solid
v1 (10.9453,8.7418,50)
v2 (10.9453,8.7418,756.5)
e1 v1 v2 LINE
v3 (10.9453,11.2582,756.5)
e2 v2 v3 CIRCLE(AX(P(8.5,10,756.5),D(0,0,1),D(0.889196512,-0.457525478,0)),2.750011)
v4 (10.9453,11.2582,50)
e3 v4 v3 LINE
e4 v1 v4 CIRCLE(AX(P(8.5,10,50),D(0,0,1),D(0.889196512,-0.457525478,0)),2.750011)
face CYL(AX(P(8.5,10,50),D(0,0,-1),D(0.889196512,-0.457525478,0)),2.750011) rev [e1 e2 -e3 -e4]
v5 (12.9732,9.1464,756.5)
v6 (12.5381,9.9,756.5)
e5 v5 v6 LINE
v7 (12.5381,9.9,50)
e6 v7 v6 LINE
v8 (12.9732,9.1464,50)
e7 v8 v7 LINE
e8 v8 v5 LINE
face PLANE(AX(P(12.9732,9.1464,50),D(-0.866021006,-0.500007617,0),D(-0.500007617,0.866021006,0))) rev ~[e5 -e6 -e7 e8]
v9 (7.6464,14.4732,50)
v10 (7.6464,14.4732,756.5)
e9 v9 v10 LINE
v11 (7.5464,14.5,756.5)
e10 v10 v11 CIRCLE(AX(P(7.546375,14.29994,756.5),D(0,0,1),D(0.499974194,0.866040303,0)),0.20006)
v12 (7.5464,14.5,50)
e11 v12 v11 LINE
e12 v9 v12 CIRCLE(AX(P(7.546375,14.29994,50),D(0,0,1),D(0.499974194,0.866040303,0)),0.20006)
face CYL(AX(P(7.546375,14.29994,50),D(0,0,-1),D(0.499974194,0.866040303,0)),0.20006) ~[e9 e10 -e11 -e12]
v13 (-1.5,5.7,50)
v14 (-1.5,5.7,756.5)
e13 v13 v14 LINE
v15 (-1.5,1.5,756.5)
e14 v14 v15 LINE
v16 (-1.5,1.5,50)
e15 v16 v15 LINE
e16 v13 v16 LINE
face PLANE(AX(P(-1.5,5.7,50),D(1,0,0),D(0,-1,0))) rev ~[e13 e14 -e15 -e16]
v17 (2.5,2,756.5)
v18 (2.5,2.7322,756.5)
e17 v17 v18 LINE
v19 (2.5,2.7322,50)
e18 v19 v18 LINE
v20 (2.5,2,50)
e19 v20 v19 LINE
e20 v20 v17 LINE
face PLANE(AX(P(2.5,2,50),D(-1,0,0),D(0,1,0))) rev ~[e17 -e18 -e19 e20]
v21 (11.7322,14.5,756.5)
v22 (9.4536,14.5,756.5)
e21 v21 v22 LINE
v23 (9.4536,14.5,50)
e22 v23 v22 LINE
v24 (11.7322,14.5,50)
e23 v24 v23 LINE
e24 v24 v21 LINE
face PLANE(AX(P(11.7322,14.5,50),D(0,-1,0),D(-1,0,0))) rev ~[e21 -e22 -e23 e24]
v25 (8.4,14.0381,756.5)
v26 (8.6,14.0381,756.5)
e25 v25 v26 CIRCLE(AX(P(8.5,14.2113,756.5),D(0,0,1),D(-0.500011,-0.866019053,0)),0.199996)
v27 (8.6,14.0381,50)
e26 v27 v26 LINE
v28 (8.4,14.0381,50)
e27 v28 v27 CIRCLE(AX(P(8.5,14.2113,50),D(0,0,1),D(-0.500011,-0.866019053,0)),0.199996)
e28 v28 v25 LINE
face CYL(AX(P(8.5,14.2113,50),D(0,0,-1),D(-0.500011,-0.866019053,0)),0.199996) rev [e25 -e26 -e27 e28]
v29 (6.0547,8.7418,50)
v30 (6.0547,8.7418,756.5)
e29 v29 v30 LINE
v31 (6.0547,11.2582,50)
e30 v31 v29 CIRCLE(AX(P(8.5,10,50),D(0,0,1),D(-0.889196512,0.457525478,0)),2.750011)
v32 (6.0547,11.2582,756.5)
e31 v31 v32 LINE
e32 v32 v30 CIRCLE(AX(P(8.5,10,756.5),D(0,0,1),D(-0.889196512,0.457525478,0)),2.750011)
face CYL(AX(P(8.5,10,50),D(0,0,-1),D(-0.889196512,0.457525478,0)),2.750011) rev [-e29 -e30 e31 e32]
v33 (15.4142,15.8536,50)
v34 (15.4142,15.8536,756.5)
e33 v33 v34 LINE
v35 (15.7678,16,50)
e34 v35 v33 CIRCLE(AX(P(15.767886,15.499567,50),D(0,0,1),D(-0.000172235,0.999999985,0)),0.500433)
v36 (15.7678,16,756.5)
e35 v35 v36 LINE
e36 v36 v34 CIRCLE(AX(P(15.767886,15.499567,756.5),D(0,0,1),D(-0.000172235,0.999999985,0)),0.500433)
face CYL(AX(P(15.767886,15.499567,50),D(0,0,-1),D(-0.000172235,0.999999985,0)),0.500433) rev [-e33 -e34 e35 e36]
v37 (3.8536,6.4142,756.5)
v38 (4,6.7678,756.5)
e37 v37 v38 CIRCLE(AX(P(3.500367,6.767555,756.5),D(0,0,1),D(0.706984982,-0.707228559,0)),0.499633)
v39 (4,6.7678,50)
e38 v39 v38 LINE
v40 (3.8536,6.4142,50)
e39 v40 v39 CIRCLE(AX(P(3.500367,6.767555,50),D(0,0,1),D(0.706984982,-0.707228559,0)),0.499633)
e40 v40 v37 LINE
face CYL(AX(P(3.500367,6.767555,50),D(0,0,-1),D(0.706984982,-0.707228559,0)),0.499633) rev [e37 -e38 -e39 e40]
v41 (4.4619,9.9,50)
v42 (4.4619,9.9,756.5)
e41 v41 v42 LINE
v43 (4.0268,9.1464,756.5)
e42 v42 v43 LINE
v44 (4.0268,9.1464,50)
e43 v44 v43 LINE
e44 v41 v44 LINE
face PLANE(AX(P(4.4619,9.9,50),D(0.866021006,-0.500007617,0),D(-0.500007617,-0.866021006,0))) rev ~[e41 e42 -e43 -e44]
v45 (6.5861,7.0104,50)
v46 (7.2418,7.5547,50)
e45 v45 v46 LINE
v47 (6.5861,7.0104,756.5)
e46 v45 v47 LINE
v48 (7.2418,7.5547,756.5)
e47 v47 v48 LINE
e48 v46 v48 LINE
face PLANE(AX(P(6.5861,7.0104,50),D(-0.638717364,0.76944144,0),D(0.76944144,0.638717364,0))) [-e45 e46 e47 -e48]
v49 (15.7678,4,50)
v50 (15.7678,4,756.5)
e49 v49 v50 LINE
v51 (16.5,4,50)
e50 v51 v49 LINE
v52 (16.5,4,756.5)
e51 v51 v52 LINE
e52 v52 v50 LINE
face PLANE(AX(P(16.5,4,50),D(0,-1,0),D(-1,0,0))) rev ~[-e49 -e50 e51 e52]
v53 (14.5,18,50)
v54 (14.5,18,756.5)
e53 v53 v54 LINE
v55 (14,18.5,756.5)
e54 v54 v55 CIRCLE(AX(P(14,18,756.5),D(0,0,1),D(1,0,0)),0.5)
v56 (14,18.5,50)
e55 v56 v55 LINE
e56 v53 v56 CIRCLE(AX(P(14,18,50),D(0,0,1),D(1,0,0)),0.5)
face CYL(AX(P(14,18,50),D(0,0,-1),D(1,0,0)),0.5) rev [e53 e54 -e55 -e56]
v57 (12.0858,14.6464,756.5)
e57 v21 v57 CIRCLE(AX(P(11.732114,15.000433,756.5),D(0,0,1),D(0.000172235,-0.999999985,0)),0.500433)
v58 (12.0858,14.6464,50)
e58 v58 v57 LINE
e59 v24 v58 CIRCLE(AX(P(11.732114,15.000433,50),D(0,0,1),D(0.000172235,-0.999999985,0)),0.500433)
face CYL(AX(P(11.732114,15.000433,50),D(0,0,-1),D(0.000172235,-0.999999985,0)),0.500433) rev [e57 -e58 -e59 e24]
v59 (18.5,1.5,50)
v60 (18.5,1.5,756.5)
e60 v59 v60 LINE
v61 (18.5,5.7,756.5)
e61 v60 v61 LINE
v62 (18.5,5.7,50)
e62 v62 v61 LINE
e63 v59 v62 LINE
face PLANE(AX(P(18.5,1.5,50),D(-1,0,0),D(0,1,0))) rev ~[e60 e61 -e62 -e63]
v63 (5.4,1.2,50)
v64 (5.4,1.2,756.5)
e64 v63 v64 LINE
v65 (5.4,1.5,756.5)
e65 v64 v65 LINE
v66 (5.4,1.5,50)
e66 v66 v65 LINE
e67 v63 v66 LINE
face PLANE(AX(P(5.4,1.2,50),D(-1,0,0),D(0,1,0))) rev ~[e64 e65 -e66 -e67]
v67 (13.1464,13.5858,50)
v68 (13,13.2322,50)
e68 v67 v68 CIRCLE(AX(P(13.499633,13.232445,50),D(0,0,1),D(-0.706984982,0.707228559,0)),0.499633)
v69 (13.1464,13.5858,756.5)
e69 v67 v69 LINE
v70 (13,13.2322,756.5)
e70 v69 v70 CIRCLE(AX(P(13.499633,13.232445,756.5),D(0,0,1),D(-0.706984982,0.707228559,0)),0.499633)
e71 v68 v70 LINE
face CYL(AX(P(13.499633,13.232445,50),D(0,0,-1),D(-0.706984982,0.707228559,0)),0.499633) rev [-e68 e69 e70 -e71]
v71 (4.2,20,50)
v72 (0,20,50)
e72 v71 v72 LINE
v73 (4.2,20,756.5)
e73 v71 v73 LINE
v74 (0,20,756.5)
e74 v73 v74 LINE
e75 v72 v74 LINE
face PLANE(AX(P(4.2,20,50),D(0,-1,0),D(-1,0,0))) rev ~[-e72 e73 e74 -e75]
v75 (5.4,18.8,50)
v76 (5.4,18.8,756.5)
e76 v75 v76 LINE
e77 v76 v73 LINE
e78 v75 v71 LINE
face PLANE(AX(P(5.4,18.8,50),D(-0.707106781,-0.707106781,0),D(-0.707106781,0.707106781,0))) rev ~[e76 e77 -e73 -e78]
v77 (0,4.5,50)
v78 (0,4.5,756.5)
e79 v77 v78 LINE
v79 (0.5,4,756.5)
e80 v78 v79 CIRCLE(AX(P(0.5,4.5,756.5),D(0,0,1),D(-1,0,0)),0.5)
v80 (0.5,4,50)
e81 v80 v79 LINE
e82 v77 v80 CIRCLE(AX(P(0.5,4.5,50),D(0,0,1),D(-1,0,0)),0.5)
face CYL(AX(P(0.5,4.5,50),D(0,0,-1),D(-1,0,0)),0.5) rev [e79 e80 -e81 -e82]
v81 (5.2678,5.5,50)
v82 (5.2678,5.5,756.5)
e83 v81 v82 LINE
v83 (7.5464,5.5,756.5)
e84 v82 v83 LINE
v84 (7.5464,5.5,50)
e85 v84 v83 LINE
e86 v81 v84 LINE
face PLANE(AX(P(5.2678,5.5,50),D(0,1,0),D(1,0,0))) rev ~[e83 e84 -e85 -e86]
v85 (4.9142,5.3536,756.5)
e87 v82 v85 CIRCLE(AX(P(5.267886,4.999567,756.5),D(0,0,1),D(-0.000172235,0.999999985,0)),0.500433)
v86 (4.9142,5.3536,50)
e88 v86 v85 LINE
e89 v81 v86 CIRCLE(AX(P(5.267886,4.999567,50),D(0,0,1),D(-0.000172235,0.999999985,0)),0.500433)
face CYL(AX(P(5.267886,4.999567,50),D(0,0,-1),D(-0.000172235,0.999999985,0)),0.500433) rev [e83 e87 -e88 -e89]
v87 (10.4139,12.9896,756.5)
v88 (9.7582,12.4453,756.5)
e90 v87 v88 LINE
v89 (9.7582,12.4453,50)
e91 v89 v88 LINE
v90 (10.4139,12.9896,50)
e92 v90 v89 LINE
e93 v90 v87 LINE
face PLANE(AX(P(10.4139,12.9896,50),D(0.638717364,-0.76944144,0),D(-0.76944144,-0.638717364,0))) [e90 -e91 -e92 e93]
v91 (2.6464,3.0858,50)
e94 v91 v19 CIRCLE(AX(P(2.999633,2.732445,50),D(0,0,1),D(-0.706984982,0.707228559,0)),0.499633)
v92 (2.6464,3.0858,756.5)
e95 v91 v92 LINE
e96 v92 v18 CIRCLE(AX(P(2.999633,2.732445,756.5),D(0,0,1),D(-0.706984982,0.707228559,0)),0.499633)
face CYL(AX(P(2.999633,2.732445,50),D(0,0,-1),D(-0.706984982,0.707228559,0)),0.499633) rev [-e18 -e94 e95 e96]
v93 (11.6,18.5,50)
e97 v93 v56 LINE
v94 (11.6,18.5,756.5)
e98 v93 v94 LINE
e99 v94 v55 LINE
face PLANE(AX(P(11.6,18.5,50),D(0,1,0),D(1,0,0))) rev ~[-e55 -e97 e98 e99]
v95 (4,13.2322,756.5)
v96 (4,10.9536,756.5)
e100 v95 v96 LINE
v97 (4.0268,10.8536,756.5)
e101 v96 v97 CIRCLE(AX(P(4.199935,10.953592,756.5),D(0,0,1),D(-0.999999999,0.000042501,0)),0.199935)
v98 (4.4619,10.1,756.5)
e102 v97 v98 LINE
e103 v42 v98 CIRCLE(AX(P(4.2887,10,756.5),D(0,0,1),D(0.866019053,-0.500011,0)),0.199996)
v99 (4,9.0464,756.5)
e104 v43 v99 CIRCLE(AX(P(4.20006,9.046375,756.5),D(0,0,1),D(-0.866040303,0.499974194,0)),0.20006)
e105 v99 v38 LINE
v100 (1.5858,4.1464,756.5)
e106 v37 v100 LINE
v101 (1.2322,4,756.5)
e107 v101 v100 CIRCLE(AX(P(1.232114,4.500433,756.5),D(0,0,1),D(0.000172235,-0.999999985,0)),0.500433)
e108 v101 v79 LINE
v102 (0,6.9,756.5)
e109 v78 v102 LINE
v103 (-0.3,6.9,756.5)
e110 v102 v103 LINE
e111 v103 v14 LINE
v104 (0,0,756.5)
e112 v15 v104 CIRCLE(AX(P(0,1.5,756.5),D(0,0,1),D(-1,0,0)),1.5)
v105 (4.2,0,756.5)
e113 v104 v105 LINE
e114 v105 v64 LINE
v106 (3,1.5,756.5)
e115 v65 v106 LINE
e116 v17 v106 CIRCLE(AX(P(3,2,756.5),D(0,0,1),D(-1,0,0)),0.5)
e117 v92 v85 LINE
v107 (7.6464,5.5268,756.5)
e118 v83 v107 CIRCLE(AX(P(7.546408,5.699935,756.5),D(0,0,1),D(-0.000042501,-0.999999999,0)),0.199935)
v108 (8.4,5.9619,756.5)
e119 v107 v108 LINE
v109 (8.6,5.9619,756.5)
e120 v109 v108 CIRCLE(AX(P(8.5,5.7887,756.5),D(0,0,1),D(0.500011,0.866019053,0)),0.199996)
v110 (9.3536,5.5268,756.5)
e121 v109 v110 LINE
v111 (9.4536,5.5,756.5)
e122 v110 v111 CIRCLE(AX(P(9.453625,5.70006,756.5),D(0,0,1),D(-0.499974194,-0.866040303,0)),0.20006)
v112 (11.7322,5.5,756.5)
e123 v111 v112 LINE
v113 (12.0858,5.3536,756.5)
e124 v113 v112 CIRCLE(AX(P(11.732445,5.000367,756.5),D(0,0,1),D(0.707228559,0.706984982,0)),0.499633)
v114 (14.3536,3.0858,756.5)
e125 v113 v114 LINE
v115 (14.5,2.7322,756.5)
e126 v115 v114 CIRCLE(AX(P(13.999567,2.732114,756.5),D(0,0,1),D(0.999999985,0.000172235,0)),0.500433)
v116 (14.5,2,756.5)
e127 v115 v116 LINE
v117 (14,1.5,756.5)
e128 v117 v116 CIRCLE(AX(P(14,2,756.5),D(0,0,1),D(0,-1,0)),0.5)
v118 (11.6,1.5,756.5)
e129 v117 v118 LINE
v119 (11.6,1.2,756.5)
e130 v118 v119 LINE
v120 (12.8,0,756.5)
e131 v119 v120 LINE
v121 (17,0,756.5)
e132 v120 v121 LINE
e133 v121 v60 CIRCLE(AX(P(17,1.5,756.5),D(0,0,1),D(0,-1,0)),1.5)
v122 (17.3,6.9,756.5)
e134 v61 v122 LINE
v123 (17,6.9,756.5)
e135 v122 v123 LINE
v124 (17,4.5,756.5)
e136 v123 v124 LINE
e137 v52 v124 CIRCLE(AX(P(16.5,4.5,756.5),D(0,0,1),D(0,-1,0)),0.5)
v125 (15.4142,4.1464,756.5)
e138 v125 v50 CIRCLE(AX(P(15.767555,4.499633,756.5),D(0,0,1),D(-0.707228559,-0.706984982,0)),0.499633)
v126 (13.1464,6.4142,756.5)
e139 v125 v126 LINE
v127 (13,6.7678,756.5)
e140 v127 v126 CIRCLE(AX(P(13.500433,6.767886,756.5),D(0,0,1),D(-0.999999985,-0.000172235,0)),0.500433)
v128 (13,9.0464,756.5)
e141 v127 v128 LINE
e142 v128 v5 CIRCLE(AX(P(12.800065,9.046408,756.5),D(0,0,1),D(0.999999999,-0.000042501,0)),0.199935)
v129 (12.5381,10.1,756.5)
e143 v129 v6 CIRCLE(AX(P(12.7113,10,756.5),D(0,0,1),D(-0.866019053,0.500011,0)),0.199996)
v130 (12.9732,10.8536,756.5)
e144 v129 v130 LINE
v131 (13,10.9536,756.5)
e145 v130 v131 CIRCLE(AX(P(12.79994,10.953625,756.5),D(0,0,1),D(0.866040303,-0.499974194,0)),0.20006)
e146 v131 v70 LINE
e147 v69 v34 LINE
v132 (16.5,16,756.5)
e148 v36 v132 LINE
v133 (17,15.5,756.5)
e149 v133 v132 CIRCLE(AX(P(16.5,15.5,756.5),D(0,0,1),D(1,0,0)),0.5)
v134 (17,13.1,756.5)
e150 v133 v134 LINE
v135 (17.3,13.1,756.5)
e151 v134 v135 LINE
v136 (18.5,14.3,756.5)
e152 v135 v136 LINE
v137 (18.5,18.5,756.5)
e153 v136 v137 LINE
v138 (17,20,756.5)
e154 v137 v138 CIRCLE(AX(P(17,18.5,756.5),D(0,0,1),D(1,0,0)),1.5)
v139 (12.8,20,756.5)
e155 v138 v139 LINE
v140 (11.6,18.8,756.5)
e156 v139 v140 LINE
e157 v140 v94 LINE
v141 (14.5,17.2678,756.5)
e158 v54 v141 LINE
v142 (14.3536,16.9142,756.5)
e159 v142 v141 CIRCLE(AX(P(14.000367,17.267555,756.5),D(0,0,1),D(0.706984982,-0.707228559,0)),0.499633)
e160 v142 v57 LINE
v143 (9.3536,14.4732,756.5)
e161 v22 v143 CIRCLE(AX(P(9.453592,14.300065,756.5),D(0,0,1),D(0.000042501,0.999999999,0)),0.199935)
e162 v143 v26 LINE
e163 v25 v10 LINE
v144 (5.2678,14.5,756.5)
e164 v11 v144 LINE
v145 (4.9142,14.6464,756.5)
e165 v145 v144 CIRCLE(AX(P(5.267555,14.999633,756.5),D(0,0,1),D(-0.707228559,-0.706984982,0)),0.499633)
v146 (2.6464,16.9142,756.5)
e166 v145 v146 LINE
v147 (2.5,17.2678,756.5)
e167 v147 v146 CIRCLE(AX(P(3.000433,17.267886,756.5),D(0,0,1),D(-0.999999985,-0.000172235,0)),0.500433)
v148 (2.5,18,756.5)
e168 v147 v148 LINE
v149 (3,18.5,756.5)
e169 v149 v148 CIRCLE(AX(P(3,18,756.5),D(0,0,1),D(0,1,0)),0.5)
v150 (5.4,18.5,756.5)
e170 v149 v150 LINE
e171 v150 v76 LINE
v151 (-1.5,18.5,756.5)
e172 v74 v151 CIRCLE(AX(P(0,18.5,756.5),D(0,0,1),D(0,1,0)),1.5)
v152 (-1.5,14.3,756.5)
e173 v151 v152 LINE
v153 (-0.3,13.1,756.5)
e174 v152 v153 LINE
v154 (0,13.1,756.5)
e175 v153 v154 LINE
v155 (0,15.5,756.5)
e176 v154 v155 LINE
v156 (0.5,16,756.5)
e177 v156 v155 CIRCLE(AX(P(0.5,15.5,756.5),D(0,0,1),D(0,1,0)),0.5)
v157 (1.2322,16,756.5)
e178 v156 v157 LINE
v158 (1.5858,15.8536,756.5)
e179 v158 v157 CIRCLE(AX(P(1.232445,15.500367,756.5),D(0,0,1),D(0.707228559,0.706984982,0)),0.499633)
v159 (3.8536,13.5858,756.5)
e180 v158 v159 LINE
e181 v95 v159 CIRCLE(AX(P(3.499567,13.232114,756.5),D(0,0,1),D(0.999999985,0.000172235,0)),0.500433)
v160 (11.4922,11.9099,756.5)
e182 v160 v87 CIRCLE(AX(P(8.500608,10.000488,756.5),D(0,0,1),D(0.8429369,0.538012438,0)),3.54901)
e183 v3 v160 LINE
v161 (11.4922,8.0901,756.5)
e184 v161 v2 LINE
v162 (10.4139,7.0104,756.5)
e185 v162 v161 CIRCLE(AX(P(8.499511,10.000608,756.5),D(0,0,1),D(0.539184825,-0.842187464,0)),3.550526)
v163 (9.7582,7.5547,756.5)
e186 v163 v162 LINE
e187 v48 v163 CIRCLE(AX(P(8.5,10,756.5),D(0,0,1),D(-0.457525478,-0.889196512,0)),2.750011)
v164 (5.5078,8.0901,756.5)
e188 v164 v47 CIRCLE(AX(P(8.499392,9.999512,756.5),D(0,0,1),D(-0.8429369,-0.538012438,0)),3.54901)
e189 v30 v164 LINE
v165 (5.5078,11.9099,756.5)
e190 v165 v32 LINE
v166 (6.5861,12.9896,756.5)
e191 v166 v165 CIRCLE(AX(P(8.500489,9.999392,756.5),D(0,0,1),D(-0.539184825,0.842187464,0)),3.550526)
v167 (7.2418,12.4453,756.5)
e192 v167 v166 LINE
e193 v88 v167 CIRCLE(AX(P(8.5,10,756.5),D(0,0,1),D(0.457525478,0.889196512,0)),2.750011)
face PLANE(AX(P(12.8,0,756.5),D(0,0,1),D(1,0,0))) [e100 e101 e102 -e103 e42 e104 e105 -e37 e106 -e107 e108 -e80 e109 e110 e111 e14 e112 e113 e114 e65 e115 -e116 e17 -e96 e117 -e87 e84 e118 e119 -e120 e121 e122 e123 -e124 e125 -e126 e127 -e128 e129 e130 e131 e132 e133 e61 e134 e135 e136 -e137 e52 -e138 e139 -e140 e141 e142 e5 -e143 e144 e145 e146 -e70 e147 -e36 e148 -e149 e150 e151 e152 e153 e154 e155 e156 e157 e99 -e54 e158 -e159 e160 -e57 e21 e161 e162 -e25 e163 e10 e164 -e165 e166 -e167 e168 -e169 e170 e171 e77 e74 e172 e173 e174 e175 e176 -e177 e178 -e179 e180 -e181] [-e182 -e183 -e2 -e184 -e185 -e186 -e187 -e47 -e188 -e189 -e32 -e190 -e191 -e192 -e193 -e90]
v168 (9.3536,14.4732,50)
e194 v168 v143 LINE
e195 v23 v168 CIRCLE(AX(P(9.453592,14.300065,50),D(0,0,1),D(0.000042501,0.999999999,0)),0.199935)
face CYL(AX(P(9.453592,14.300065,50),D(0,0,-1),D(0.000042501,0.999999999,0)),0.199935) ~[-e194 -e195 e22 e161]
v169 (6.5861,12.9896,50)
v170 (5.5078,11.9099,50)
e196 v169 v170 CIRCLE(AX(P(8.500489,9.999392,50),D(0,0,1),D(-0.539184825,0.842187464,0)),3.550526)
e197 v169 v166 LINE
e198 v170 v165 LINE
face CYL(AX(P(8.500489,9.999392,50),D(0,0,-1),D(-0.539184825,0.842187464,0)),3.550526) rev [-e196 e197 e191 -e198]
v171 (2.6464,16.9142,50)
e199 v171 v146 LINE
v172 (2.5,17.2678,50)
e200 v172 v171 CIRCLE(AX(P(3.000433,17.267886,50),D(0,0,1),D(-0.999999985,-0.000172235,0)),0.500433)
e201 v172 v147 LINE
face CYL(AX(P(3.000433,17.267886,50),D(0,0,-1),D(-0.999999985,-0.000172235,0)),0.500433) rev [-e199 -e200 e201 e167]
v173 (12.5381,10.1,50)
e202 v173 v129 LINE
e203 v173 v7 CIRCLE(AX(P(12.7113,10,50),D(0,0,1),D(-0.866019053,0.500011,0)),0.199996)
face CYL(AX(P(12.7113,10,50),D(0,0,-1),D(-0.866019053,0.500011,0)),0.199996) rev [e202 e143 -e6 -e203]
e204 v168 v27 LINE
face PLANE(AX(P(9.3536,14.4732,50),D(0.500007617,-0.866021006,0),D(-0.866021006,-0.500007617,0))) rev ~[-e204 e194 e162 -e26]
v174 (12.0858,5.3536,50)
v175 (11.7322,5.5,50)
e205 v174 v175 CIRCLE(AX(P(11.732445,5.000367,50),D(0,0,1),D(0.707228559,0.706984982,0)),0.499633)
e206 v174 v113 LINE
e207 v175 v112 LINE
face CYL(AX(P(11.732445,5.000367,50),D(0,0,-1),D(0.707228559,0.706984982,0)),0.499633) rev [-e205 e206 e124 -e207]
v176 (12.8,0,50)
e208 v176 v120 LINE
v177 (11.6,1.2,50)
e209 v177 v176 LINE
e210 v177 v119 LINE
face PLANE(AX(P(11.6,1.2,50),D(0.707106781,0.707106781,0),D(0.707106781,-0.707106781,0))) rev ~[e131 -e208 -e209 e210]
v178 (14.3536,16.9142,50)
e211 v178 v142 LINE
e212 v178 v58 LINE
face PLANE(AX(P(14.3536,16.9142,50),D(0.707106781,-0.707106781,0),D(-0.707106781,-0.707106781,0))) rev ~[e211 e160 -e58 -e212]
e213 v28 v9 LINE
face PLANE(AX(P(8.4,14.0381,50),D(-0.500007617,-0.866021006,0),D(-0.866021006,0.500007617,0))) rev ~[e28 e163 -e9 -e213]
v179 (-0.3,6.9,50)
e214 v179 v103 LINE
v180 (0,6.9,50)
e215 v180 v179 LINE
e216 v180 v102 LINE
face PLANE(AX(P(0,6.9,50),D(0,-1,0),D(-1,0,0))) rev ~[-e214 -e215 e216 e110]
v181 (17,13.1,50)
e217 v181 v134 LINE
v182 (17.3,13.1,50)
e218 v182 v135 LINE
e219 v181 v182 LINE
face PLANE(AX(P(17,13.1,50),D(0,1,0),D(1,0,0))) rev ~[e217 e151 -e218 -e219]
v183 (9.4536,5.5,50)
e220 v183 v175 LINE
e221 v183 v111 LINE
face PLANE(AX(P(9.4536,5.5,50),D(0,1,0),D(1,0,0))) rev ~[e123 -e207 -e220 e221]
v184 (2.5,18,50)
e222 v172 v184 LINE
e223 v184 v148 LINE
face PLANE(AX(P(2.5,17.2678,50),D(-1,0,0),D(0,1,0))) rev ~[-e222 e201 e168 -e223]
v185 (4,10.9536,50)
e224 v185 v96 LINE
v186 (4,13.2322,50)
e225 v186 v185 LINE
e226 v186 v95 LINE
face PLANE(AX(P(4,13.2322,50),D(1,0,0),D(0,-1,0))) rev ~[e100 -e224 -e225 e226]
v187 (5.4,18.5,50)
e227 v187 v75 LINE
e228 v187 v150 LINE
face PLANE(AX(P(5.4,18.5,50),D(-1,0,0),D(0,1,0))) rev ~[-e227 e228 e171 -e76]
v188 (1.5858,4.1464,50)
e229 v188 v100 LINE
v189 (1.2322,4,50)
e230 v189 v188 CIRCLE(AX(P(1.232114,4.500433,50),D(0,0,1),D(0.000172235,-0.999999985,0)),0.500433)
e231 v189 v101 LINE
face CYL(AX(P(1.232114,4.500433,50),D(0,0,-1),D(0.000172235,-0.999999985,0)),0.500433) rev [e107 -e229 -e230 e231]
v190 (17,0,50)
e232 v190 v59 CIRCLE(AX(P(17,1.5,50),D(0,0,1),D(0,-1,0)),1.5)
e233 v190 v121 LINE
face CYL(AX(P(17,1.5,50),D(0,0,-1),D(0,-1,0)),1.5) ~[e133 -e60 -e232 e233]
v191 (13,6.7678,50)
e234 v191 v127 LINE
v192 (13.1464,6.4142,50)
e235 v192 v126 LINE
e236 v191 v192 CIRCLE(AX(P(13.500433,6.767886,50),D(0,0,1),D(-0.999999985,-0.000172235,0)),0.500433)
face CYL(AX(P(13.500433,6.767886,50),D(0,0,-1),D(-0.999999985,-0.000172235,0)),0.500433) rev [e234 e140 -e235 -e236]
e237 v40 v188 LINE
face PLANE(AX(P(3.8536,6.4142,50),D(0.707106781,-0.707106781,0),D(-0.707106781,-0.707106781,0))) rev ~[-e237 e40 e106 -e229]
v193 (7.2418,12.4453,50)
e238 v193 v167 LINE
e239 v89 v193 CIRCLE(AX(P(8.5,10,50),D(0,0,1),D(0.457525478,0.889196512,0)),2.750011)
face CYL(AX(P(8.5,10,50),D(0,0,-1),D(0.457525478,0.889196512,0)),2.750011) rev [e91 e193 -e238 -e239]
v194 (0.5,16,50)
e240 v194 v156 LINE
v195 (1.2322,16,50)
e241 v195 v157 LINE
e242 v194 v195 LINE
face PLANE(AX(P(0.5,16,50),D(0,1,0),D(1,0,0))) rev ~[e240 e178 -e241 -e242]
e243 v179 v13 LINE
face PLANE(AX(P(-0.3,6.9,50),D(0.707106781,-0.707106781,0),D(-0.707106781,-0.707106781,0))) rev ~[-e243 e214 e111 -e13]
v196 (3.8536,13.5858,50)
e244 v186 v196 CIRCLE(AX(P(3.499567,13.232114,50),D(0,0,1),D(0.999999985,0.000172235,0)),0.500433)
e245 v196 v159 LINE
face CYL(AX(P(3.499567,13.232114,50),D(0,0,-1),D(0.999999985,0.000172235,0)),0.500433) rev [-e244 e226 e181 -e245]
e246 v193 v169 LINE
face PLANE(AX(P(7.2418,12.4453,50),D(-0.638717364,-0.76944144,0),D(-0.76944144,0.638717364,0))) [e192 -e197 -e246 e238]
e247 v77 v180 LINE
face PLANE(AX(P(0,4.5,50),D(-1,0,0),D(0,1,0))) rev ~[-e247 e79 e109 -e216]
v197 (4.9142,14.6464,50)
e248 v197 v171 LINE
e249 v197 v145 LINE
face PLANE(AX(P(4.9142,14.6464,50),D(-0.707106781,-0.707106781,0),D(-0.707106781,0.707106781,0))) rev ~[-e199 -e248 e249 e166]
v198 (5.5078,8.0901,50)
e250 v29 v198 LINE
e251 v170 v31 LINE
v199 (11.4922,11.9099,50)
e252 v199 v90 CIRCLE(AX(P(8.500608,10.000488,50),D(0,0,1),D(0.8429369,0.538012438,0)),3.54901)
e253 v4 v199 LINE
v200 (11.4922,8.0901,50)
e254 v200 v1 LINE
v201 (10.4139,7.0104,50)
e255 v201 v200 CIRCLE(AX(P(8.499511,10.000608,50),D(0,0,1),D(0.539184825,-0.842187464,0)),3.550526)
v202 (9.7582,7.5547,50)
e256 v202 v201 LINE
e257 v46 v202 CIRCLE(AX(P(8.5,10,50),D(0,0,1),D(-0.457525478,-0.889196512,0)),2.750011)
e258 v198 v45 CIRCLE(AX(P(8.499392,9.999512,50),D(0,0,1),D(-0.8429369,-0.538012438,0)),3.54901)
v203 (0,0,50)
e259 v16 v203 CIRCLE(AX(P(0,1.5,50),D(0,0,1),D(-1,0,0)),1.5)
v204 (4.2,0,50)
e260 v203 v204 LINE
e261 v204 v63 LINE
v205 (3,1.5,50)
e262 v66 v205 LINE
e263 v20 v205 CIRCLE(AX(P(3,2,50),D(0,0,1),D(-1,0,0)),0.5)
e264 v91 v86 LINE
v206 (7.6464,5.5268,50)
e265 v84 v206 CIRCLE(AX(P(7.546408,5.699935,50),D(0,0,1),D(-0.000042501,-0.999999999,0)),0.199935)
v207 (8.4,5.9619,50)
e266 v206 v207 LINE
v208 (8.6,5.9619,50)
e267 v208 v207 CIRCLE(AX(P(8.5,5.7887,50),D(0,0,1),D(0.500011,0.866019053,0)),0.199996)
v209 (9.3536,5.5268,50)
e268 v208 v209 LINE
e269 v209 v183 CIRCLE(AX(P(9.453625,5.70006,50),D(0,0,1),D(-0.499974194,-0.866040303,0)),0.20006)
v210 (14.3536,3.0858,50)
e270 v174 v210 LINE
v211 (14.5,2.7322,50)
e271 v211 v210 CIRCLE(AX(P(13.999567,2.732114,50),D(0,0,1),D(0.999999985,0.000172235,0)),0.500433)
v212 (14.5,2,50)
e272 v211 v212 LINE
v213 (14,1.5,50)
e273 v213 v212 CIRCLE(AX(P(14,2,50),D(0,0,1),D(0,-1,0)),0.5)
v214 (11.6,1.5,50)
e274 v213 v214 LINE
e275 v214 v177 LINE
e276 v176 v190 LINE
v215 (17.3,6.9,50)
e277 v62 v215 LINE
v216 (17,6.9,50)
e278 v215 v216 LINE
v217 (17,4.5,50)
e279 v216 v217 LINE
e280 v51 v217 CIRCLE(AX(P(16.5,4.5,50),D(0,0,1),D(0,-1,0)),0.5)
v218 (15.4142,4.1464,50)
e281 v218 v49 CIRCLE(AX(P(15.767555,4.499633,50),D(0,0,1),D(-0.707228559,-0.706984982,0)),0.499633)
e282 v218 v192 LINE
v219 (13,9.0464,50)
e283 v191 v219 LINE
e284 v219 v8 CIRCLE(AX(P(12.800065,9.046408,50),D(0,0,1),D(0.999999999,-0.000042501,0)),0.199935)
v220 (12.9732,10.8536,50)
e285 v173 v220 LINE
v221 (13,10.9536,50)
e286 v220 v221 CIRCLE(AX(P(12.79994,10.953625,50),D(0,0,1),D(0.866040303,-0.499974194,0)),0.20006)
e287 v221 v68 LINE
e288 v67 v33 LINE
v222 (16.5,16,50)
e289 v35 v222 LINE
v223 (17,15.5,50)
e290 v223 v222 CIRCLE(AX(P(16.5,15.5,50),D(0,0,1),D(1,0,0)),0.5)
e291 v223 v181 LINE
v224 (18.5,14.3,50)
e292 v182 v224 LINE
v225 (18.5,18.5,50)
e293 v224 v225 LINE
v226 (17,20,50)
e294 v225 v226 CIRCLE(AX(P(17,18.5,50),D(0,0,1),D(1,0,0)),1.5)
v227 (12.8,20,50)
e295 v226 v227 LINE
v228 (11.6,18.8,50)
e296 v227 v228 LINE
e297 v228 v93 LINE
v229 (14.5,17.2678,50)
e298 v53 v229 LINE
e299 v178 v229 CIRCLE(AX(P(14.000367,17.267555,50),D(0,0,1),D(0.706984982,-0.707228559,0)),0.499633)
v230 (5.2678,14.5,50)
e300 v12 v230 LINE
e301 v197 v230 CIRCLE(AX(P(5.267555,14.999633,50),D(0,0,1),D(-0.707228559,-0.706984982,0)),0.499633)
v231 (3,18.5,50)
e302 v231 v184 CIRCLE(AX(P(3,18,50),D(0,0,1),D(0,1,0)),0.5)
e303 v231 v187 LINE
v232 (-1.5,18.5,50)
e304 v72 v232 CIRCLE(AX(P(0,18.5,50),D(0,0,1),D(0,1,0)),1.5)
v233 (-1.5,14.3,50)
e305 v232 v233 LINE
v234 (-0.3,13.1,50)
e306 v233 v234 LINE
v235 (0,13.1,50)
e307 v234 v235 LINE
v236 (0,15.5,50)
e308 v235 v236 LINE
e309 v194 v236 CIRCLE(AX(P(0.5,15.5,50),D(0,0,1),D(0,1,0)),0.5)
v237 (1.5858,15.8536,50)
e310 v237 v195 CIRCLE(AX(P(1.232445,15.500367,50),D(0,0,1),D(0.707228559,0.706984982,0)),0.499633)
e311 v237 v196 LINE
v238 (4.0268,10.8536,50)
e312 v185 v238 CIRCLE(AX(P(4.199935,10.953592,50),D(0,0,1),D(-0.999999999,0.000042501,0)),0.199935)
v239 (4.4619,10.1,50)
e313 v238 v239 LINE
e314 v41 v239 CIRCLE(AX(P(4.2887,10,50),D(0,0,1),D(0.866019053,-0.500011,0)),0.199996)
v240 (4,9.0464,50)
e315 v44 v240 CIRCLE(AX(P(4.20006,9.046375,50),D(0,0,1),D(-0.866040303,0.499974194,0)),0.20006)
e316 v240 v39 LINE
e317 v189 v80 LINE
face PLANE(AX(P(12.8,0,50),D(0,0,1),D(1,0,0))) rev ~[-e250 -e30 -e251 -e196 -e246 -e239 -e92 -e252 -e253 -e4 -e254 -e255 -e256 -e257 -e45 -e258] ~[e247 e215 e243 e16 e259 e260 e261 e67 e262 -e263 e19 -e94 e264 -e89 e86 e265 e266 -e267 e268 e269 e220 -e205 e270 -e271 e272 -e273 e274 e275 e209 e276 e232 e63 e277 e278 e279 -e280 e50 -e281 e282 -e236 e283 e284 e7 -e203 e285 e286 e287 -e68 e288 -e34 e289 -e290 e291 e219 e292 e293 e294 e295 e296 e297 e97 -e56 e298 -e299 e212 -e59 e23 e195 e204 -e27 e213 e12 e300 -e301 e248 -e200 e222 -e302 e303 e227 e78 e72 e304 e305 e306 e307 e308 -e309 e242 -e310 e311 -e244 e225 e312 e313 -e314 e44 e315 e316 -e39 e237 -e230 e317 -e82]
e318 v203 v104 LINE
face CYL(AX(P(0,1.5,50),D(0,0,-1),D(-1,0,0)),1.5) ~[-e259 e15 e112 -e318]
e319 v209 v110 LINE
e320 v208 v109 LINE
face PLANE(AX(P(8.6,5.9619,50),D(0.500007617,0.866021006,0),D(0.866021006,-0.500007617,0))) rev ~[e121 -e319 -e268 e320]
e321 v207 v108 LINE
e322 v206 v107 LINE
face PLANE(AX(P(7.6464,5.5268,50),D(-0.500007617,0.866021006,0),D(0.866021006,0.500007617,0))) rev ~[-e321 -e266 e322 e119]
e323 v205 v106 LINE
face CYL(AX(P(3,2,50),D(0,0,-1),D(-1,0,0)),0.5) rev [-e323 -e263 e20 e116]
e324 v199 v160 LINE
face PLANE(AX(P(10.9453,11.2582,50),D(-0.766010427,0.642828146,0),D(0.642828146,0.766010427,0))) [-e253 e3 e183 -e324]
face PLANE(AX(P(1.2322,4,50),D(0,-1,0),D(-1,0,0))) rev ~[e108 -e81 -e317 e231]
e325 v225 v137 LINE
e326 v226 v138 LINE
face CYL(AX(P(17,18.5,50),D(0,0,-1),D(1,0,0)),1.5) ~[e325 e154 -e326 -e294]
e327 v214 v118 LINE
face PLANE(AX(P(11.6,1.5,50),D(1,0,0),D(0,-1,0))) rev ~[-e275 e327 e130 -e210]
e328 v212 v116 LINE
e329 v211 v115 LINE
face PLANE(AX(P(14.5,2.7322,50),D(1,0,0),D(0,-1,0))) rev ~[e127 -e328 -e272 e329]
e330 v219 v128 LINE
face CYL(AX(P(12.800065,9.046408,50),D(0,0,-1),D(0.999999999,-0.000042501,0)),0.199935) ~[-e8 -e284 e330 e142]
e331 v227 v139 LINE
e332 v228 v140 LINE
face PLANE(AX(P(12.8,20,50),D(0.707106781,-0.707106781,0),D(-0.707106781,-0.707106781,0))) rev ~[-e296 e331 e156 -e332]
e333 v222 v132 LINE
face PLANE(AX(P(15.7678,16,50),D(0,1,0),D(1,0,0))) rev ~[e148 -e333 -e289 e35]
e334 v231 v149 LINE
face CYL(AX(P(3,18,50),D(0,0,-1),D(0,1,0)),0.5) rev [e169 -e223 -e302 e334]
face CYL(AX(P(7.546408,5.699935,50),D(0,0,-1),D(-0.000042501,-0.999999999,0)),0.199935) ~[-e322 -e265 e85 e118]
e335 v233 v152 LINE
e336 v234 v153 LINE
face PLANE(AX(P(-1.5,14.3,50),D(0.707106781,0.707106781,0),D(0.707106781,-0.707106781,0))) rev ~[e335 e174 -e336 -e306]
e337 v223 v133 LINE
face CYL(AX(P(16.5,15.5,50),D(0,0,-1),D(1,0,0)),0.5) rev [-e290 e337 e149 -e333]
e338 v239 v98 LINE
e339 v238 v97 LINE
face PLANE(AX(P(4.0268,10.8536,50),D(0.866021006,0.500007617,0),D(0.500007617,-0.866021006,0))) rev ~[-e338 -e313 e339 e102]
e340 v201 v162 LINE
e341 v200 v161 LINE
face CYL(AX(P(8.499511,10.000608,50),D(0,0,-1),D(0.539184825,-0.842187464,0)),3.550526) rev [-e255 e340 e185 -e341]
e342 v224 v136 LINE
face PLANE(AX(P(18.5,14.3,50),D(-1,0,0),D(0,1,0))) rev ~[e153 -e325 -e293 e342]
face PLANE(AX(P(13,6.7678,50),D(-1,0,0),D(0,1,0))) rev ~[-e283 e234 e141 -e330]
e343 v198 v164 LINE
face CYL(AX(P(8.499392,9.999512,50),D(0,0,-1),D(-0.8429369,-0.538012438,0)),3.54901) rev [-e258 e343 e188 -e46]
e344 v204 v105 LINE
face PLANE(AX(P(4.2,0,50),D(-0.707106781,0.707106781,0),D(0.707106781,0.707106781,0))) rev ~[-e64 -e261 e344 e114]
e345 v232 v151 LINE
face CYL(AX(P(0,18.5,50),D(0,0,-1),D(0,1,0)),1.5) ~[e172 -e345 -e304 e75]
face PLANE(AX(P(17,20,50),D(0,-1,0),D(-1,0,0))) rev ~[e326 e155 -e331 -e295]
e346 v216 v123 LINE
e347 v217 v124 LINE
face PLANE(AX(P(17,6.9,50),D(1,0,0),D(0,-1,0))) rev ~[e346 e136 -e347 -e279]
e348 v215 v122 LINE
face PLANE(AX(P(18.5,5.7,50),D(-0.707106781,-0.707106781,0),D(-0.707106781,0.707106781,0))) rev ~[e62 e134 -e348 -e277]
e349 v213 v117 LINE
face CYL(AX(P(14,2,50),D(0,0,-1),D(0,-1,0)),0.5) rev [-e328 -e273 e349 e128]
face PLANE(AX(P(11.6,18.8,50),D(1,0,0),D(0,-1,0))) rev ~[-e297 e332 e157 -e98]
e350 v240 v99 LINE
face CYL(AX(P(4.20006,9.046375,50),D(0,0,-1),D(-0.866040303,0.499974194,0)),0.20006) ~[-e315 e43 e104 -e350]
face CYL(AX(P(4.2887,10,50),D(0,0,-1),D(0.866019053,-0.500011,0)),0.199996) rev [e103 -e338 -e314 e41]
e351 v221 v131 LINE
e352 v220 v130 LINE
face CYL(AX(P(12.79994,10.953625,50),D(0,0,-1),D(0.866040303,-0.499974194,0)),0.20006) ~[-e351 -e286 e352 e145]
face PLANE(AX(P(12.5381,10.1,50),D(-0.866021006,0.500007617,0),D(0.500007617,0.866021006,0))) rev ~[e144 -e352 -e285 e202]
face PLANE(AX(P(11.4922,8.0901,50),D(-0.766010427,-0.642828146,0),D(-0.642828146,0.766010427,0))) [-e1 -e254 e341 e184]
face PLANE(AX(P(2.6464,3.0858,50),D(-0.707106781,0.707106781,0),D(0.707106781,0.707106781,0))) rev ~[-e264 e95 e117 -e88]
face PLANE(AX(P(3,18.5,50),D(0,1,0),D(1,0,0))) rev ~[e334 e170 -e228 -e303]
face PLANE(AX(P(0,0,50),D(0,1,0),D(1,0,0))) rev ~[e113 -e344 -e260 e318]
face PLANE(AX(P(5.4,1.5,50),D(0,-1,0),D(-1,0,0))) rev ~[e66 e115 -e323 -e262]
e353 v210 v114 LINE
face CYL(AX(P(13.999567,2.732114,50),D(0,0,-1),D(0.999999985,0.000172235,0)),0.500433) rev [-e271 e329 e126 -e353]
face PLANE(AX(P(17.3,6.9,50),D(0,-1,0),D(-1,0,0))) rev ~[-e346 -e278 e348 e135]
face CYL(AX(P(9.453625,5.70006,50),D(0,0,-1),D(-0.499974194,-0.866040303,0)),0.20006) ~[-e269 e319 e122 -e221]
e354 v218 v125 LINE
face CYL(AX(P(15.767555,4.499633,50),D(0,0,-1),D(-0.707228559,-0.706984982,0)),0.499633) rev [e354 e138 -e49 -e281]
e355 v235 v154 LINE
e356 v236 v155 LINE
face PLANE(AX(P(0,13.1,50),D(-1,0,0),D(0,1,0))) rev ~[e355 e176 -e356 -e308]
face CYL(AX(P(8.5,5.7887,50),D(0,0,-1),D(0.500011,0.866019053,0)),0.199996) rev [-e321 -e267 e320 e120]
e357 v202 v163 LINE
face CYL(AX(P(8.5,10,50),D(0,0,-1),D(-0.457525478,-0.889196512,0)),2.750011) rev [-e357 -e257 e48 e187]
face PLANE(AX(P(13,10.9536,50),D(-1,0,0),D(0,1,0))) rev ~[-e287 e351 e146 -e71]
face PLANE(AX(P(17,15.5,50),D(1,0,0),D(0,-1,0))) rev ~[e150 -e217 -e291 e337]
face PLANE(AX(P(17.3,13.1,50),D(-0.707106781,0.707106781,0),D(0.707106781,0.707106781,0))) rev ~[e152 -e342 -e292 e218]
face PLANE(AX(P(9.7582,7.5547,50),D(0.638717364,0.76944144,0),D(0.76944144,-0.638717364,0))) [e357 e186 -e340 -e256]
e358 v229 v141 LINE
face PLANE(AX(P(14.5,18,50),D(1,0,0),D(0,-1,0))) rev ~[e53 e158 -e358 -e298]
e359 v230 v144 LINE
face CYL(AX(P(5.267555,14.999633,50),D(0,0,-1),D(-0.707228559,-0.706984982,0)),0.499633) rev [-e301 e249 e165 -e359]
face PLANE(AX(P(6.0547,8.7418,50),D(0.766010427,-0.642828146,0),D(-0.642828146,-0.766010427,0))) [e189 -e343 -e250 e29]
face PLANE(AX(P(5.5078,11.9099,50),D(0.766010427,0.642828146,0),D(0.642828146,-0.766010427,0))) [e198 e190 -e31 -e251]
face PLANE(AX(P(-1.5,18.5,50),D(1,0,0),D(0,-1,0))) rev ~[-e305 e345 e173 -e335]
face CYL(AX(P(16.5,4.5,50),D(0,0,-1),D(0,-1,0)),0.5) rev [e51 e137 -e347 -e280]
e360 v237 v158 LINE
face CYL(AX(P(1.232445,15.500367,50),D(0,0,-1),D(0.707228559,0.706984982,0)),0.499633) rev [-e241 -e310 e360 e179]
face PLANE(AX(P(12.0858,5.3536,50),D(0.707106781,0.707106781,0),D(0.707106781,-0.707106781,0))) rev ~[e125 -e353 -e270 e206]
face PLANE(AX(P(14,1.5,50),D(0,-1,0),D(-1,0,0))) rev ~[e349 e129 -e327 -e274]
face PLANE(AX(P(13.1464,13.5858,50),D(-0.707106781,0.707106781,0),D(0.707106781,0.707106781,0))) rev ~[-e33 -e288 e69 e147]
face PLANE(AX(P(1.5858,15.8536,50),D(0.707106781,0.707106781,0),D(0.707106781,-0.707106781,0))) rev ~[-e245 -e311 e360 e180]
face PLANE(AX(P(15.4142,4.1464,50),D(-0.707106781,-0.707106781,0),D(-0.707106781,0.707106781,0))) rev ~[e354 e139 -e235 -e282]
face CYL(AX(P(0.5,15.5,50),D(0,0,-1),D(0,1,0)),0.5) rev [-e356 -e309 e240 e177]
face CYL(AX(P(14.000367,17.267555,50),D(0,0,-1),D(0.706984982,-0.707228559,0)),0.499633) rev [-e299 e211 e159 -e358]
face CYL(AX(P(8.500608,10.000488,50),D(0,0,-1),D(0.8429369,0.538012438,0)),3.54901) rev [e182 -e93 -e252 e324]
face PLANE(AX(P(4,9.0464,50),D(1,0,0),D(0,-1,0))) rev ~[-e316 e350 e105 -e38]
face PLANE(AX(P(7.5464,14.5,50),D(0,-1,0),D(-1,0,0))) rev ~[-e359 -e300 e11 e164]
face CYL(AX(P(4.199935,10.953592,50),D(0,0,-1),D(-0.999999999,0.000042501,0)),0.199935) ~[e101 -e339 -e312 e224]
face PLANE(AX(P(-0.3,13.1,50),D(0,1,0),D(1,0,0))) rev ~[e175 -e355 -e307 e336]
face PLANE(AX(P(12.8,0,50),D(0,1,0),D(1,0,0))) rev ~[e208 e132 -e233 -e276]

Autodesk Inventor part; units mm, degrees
ref_plane "YZ Plane" through (0, 0, 0) normal (1, 0, 0) x (0, 1, 0)
ref_plane "Work Plane5" through (12.8, 0, 50) normal (0, 0, 1) x (1, 0, 0)
sketch "Sketch" plane through (12.8, 0, 50) normal (0, 0, 1) x (1, 0, 0)
  arc A0 (1.7, 2.7322) -> (1.5536, 3.0858) centre (1.2, 2.7322) ccw
  line L0 (1.7, 2.7322) -> (1.7, 2)
  arc A1 (1.2, 1.5) -> (1.7, 2) centre (1.2, 2) ccw
  line L1 (1.2, 1.5) -> (-1.2, 1.5)
  line L2 (-1.2, 1.5) -> (-1.2, 1.2)
  line L3 (-1.2, 1.2) -> (0, 0)
  line L4 (0, 0) -> (4.2, 0)
  arc A2 (4.2, 0) -> (5.7, 1.5) centre (4.2, 1.5) ccw
  line L5 (5.7, 1.5) -> (5.7, 5.7)
  line L6 (5.7, 5.7) -> (4.5, 6.9)
  line L7 (4.5, 6.9) -> (4.2, 6.9)
  line L8 (4.2, 6.9) -> (4.2, 4.5)
  arc A3 (3.7, 4) -> (4.2, 4.5) centre (3.7, 4.5) ccw
  line L9 (3.7, 4) -> (2.9678, 4)
  arc A4 (2.6142, 4.1464) -> (2.9678, 4) centre (2.9678, 4.5) ccw
  line L10 (2.6142, 4.1464) -> (0.3464, 6.4142)
  arc A5 (0.2, 6.7678) -> (0.3464, 6.4142) centre (0.7, 6.7678) ccw
  line L11 (0.2, 6.7678) -> (0.2, 9.0464)
  arc A6 (0.2, 9.0464) -> (0.1732, 9.1464) centre (0, 9.0464) ccw
  line L12 (0.1732, 9.1464) -> (-0.2619, 9.9)
  arc A7 (-0.2619, 10.1) -> (-0.2619, 9.9) centre (-0.0887, 10) ccw
  line L13 (-0.2619, 10.1) -> (0.1732, 10.8536)
  arc A8 (0.1732, 10.8536) -> (0.2, 10.9536) centre (0, 10.9536) ccw
  line L14 (0.2, 10.9536) -> (0.2, 13.2322)
  arc A9 (0.3464, 13.5858) -> (0.2, 13.2322) centre (0.7, 13.2322) ccw
  line L15 (0.3464, 13.5858) -> (2.6142, 15.8536)
  arc A10 (2.9678, 16) -> (2.6142, 15.8536) centre (2.9678, 15.5) ccw
  line L16 (2.9678, 16) -> (3.7, 16)
  arc A11 (4.2, 15.5) -> (3.7, 16) centre (3.7, 15.5) ccw
  line L17 (4.2, 15.5) -> (4.2, 13.1)
  line L18 (4.2, 13.1) -> (4.5, 13.1)
  line L19 (4.5, 13.1) -> (5.7, 14.3)
  line L20 (5.7, 14.3) -> (5.7, 18.5)
  arc A12 (5.7, 18.5) -> (4.2, 20) centre (4.2, 18.5) ccw
  line L21 (4.2, 20) -> (0, 20)
  line L22 (0, 20) -> (-1.2, 18.8)
  line L23 (-1.2, 18.8) -> (-1.2, 18.5)
  line L24 (-1.2, 18.5) -> (1.2, 18.5)
  arc A13 (1.7, 18) -> (1.2, 18.5) centre (1.2, 18) ccw
  line L25 (1.7, 18) -> (1.7, 17.2678)
  arc A14 (1.5536, 16.9142) -> (1.7, 17.2678) centre (1.2, 17.2678) ccw
  line L26 (1.5536, 16.9142) -> (-0.7142, 14.6464)
  arc A15 (-1.0678, 14.5) -> (-0.7142, 14.6464) centre (-1.0678, 15) ccw
  line L27 (-1.0678, 14.5) -> (-3.3464, 14.5)
  arc A16 (-3.3464, 14.5) -> (-3.4464, 14.4732) centre (-3.3464, 14.3) ccw
  line L28 (-3.4464, 14.4732) -> (-4.2, 14.0381)
  arc A17 (-4.4, 14.0381) -> (-4.2, 14.0381) centre (-4.3, 14.2113) ccw
  line L29 (-4.4, 14.0381) -> (-5.1536, 14.4732)
  arc A18 (-5.1536, 14.4732) -> (-5.2536, 14.5) centre (-5.2536, 14.3) ccw
  line L30 (-5.2536, 14.5) -> (-7.5322, 14.5)
  arc A19 (-7.8858, 14.6464) -> (-7.5322, 14.5) centre (-7.5322, 15) ccw
  line L31 (-7.8858, 14.6464) -> (-10.1536, 16.9142)
  arc A20 (-10.3, 17.2678) -> (-10.1536, 16.9142) centre (-9.8, 17.2678) ccw
  line L32 (-10.3, 17.2678) -> (-10.3, 18)
  arc A21 (-9.8, 18.5) -> (-10.3, 18) centre (-9.8, 18) ccw
  line L33 (-9.8, 18.5) -> (-7.4, 18.5)
  line L34 (-7.4, 18.5) -> (-7.4, 18.8)
  line L35 (-7.4, 18.8) -> (-8.6, 20)
  line L36 (-8.6, 20) -> (-12.8, 20)
  arc A22 (-12.8, 20) -> (-14.3, 18.5) centre (-12.8, 18.5) ccw
  line L37 (-14.3, 18.5) -> (-14.3, 14.3)
  line L38 (-14.3, 14.3) -> (-13.1, 13.1)
  line L39 (-13.1, 13.1) -> (-12.8, 13.1)
  line L40 (-12.8, 13.1) -> (-12.8, 15.5)
  arc A23 (-12.3, 16) -> (-12.8, 15.5) centre (-12.3, 15.5) ccw
  line L41 (-12.3, 16) -> (-11.5678, 16)
  arc A24 (-11.2142, 15.8536) -> (-11.5678, 16) centre (-11.5678, 15.5) ccw
  line L42 (-11.2142, 15.8536) -> (-8.9464, 13.5858)
  arc A25 (-8.8, 13.2322) -> (-8.9464, 13.5858) centre (-9.3, 13.2322) ccw
  line L43 (-8.8, 13.2322) -> (-8.8, 10.9536)
  arc A26 (-8.8, 10.9536) -> (-8.7732, 10.8536) centre (-8.6, 10.9536) ccw
  line L44 (-8.7732, 10.8536) -> (-8.3381, 10.1)
  arc A27 (-8.3381, 9.9) -> (-8.3381, 10.1) centre (-8.5113, 10) ccw
  line L45 (-8.3381, 9.9) -> (-8.7732, 9.1464)
  arc A28 (-8.7732, 9.1464) -> (-8.8, 9.0464) centre (-8.6, 9.0464) ccw
  line L46 (-8.8, 9.0464) -> (-8.8, 6.7678)
  arc A29 (-8.9464, 6.4142) -> (-8.8, 6.7678) centre (-9.3, 6.7678) ccw
  line L47 (-8.9464, 6.4142) -> (-11.2142, 4.1464)
  arc A30 (-11.5678, 4) -> (-11.2142, 4.1464) centre (-11.5678, 4.5) ccw
  line L48 (-11.5678, 4) -> (-12.3, 4)
  arc A31 (-12.8, 4.5) -> (-12.3, 4) centre (-12.3, 4.5) ccw
  line L49 (-12.8, 4.5) -> (-12.8, 6.9)
  line L50 (-12.8, 6.9) -> (-13.1, 6.9)
  line L51 (-13.1, 6.9) -> (-14.3, 5.7)
  line L52 (-14.3, 5.7) -> (-14.3, 1.5)
  arc A32 (-14.3, 1.5) -> (-12.8, 0) centre (-12.8, 1.5) ccw
  line L53 (-12.8, 0) -> (-8.6, 0)
  line L54 (-8.6, 0) -> (-7.4, 1.2)
  line L55 (-7.4, 1.2) -> (-7.4, 1.5)
  line L56 (-7.4, 1.5) -> (-9.8, 1.5)
  arc A33 (-10.3, 2) -> (-9.8, 1.5) centre (-9.8, 2) ccw
  line L57 (-10.3, 2) -> (-10.3, 2.7322)
  arc A34 (-10.1536, 3.0858) -> (-10.3, 2.7322) centre (-9.8, 2.7322) ccw
  line L58 (-10.1536, 3.0858) -> (-7.8858, 5.3536)
  arc A35 (-7.5322, 5.5) -> (-7.8858, 5.3536) centre (-7.5322, 5) ccw
  line L59 (-7.5322, 5.5) -> (-5.2536, 5.5)
  arc A36 (-5.2536, 5.5) -> (-5.1536, 5.5268) centre (-5.2536, 5.7) ccw
  line L60 (-5.1536, 5.5268) -> (-4.4, 5.9619)
  arc A37 (-4.2, 5.9619) -> (-4.4, 5.9619) centre (-4.3, 5.7887) ccw
  line L61 (-4.2, 5.9619) -> (-3.4464, 5.5268)
  arc A38 (-3.4464, 5.5268) -> (-3.3464, 5.5) centre (-3.3464, 5.7) ccw
  line L62 (-3.3464, 5.5) -> (-1.0678, 5.5)
  arc A39 (-0.7142, 5.3536) -> (-1.0678, 5.5) centre (-1.0678, 5) ccw
  line L63 (-0.7142, 5.3536) -> (1.5536, 3.0858)
  line L64 (-6.7453, 8.7418) -> (-7.2922, 8.0901)
  arc A40 (-6.7453, 11.2582) -> (-6.7453, 8.7418) centre (-4.3, 10) ccw
  line L65 (-7.2922, 11.9099) -> (-6.7453, 11.2582)
  arc A41 (-6.2139, 12.9896) -> (-7.2922, 11.9099) centre (-4.3, 10) ccw
  line L66 (-5.5582, 12.4453) -> (-6.2139, 12.9896)
  arc A42 (-3.0418, 12.4453) -> (-5.5582, 12.4453) centre (-4.3, 10) ccw
  line L67 (-2.3861, 12.9896) -> (-3.0418, 12.4453)
  arc A43 (-1.3078, 11.9099) -> (-2.3861, 12.9896) centre (-4.3, 10) ccw
  line L68 (-1.8547, 11.2582) -> (-1.3078, 11.9099)
  arc A44 (-1.8547, 8.7418) -> (-1.8547, 11.2582) centre (-4.3, 10) ccw
  line L69 (-1.3078, 8.0901) -> (-1.8547, 8.7418)
  arc A45 (-2.3861, 7.0104) -> (-1.3078, 8.0901) centre (-4.3, 10) ccw
  line L70 (-3.0418, 7.5547) -> (-2.3861, 7.0104)
  arc A46 (-5.5582, 7.5547) -> (-3.0418, 7.5547) centre (-4.3, 10) ccw
  line L71 (-6.2139, 7.0104) -> (-5.5582, 7.5547)
  arc A47 (-7.2922, 8.0901) -> (-6.2139, 7.0104) centre (-4.3, 10) ccw
ref_plane "Start Plane" through (12.8, 0, 50) normal (0, 0, 1) x (1, 0, 0)
ref_plane "End Plane" through (12.8, 0, 756.5) normal (0, 0, 1) x (1, 0, 0)
extrude "Body" add sketch "Sketch" along normal up to surface (706.5 mm away) from surface at 0
sketch "Sketch8" plane through (12.8, 0, 50) normal (0, 0, 1) x (1, 0, 0)
  line L0 (0, 0) -> (10, 0)
ref_plane "Work Plane10" through (12.8, 0, 50) normal (0, -1, 0) x (1, 0, 0)
sketch "Sketch9" plane through (12.8, 0, 50) normal (0, -1, 0) x (1, 0, 0)
  line L0 (-2, 0) -> (12, 0)
  line L1 (-2, 706.5) -> (12, 706.5)
  dimension "d16" = 706.5
equation "\"LENGTH\" = 706.5"
equation "\"G_OFFSET_START\" = 0"
equation "\"G_OFFSET_END\" = 0"
equation "\"G_L\" = d16"
equation "\"G_OFFSET_START1\" = 0"
equation "\"G_OFFSET_END1\" = 0"
equation "\"d12\" = LENGTH + G_OFFSET_END1"
properties part number "2020 V-slot 100mm"
